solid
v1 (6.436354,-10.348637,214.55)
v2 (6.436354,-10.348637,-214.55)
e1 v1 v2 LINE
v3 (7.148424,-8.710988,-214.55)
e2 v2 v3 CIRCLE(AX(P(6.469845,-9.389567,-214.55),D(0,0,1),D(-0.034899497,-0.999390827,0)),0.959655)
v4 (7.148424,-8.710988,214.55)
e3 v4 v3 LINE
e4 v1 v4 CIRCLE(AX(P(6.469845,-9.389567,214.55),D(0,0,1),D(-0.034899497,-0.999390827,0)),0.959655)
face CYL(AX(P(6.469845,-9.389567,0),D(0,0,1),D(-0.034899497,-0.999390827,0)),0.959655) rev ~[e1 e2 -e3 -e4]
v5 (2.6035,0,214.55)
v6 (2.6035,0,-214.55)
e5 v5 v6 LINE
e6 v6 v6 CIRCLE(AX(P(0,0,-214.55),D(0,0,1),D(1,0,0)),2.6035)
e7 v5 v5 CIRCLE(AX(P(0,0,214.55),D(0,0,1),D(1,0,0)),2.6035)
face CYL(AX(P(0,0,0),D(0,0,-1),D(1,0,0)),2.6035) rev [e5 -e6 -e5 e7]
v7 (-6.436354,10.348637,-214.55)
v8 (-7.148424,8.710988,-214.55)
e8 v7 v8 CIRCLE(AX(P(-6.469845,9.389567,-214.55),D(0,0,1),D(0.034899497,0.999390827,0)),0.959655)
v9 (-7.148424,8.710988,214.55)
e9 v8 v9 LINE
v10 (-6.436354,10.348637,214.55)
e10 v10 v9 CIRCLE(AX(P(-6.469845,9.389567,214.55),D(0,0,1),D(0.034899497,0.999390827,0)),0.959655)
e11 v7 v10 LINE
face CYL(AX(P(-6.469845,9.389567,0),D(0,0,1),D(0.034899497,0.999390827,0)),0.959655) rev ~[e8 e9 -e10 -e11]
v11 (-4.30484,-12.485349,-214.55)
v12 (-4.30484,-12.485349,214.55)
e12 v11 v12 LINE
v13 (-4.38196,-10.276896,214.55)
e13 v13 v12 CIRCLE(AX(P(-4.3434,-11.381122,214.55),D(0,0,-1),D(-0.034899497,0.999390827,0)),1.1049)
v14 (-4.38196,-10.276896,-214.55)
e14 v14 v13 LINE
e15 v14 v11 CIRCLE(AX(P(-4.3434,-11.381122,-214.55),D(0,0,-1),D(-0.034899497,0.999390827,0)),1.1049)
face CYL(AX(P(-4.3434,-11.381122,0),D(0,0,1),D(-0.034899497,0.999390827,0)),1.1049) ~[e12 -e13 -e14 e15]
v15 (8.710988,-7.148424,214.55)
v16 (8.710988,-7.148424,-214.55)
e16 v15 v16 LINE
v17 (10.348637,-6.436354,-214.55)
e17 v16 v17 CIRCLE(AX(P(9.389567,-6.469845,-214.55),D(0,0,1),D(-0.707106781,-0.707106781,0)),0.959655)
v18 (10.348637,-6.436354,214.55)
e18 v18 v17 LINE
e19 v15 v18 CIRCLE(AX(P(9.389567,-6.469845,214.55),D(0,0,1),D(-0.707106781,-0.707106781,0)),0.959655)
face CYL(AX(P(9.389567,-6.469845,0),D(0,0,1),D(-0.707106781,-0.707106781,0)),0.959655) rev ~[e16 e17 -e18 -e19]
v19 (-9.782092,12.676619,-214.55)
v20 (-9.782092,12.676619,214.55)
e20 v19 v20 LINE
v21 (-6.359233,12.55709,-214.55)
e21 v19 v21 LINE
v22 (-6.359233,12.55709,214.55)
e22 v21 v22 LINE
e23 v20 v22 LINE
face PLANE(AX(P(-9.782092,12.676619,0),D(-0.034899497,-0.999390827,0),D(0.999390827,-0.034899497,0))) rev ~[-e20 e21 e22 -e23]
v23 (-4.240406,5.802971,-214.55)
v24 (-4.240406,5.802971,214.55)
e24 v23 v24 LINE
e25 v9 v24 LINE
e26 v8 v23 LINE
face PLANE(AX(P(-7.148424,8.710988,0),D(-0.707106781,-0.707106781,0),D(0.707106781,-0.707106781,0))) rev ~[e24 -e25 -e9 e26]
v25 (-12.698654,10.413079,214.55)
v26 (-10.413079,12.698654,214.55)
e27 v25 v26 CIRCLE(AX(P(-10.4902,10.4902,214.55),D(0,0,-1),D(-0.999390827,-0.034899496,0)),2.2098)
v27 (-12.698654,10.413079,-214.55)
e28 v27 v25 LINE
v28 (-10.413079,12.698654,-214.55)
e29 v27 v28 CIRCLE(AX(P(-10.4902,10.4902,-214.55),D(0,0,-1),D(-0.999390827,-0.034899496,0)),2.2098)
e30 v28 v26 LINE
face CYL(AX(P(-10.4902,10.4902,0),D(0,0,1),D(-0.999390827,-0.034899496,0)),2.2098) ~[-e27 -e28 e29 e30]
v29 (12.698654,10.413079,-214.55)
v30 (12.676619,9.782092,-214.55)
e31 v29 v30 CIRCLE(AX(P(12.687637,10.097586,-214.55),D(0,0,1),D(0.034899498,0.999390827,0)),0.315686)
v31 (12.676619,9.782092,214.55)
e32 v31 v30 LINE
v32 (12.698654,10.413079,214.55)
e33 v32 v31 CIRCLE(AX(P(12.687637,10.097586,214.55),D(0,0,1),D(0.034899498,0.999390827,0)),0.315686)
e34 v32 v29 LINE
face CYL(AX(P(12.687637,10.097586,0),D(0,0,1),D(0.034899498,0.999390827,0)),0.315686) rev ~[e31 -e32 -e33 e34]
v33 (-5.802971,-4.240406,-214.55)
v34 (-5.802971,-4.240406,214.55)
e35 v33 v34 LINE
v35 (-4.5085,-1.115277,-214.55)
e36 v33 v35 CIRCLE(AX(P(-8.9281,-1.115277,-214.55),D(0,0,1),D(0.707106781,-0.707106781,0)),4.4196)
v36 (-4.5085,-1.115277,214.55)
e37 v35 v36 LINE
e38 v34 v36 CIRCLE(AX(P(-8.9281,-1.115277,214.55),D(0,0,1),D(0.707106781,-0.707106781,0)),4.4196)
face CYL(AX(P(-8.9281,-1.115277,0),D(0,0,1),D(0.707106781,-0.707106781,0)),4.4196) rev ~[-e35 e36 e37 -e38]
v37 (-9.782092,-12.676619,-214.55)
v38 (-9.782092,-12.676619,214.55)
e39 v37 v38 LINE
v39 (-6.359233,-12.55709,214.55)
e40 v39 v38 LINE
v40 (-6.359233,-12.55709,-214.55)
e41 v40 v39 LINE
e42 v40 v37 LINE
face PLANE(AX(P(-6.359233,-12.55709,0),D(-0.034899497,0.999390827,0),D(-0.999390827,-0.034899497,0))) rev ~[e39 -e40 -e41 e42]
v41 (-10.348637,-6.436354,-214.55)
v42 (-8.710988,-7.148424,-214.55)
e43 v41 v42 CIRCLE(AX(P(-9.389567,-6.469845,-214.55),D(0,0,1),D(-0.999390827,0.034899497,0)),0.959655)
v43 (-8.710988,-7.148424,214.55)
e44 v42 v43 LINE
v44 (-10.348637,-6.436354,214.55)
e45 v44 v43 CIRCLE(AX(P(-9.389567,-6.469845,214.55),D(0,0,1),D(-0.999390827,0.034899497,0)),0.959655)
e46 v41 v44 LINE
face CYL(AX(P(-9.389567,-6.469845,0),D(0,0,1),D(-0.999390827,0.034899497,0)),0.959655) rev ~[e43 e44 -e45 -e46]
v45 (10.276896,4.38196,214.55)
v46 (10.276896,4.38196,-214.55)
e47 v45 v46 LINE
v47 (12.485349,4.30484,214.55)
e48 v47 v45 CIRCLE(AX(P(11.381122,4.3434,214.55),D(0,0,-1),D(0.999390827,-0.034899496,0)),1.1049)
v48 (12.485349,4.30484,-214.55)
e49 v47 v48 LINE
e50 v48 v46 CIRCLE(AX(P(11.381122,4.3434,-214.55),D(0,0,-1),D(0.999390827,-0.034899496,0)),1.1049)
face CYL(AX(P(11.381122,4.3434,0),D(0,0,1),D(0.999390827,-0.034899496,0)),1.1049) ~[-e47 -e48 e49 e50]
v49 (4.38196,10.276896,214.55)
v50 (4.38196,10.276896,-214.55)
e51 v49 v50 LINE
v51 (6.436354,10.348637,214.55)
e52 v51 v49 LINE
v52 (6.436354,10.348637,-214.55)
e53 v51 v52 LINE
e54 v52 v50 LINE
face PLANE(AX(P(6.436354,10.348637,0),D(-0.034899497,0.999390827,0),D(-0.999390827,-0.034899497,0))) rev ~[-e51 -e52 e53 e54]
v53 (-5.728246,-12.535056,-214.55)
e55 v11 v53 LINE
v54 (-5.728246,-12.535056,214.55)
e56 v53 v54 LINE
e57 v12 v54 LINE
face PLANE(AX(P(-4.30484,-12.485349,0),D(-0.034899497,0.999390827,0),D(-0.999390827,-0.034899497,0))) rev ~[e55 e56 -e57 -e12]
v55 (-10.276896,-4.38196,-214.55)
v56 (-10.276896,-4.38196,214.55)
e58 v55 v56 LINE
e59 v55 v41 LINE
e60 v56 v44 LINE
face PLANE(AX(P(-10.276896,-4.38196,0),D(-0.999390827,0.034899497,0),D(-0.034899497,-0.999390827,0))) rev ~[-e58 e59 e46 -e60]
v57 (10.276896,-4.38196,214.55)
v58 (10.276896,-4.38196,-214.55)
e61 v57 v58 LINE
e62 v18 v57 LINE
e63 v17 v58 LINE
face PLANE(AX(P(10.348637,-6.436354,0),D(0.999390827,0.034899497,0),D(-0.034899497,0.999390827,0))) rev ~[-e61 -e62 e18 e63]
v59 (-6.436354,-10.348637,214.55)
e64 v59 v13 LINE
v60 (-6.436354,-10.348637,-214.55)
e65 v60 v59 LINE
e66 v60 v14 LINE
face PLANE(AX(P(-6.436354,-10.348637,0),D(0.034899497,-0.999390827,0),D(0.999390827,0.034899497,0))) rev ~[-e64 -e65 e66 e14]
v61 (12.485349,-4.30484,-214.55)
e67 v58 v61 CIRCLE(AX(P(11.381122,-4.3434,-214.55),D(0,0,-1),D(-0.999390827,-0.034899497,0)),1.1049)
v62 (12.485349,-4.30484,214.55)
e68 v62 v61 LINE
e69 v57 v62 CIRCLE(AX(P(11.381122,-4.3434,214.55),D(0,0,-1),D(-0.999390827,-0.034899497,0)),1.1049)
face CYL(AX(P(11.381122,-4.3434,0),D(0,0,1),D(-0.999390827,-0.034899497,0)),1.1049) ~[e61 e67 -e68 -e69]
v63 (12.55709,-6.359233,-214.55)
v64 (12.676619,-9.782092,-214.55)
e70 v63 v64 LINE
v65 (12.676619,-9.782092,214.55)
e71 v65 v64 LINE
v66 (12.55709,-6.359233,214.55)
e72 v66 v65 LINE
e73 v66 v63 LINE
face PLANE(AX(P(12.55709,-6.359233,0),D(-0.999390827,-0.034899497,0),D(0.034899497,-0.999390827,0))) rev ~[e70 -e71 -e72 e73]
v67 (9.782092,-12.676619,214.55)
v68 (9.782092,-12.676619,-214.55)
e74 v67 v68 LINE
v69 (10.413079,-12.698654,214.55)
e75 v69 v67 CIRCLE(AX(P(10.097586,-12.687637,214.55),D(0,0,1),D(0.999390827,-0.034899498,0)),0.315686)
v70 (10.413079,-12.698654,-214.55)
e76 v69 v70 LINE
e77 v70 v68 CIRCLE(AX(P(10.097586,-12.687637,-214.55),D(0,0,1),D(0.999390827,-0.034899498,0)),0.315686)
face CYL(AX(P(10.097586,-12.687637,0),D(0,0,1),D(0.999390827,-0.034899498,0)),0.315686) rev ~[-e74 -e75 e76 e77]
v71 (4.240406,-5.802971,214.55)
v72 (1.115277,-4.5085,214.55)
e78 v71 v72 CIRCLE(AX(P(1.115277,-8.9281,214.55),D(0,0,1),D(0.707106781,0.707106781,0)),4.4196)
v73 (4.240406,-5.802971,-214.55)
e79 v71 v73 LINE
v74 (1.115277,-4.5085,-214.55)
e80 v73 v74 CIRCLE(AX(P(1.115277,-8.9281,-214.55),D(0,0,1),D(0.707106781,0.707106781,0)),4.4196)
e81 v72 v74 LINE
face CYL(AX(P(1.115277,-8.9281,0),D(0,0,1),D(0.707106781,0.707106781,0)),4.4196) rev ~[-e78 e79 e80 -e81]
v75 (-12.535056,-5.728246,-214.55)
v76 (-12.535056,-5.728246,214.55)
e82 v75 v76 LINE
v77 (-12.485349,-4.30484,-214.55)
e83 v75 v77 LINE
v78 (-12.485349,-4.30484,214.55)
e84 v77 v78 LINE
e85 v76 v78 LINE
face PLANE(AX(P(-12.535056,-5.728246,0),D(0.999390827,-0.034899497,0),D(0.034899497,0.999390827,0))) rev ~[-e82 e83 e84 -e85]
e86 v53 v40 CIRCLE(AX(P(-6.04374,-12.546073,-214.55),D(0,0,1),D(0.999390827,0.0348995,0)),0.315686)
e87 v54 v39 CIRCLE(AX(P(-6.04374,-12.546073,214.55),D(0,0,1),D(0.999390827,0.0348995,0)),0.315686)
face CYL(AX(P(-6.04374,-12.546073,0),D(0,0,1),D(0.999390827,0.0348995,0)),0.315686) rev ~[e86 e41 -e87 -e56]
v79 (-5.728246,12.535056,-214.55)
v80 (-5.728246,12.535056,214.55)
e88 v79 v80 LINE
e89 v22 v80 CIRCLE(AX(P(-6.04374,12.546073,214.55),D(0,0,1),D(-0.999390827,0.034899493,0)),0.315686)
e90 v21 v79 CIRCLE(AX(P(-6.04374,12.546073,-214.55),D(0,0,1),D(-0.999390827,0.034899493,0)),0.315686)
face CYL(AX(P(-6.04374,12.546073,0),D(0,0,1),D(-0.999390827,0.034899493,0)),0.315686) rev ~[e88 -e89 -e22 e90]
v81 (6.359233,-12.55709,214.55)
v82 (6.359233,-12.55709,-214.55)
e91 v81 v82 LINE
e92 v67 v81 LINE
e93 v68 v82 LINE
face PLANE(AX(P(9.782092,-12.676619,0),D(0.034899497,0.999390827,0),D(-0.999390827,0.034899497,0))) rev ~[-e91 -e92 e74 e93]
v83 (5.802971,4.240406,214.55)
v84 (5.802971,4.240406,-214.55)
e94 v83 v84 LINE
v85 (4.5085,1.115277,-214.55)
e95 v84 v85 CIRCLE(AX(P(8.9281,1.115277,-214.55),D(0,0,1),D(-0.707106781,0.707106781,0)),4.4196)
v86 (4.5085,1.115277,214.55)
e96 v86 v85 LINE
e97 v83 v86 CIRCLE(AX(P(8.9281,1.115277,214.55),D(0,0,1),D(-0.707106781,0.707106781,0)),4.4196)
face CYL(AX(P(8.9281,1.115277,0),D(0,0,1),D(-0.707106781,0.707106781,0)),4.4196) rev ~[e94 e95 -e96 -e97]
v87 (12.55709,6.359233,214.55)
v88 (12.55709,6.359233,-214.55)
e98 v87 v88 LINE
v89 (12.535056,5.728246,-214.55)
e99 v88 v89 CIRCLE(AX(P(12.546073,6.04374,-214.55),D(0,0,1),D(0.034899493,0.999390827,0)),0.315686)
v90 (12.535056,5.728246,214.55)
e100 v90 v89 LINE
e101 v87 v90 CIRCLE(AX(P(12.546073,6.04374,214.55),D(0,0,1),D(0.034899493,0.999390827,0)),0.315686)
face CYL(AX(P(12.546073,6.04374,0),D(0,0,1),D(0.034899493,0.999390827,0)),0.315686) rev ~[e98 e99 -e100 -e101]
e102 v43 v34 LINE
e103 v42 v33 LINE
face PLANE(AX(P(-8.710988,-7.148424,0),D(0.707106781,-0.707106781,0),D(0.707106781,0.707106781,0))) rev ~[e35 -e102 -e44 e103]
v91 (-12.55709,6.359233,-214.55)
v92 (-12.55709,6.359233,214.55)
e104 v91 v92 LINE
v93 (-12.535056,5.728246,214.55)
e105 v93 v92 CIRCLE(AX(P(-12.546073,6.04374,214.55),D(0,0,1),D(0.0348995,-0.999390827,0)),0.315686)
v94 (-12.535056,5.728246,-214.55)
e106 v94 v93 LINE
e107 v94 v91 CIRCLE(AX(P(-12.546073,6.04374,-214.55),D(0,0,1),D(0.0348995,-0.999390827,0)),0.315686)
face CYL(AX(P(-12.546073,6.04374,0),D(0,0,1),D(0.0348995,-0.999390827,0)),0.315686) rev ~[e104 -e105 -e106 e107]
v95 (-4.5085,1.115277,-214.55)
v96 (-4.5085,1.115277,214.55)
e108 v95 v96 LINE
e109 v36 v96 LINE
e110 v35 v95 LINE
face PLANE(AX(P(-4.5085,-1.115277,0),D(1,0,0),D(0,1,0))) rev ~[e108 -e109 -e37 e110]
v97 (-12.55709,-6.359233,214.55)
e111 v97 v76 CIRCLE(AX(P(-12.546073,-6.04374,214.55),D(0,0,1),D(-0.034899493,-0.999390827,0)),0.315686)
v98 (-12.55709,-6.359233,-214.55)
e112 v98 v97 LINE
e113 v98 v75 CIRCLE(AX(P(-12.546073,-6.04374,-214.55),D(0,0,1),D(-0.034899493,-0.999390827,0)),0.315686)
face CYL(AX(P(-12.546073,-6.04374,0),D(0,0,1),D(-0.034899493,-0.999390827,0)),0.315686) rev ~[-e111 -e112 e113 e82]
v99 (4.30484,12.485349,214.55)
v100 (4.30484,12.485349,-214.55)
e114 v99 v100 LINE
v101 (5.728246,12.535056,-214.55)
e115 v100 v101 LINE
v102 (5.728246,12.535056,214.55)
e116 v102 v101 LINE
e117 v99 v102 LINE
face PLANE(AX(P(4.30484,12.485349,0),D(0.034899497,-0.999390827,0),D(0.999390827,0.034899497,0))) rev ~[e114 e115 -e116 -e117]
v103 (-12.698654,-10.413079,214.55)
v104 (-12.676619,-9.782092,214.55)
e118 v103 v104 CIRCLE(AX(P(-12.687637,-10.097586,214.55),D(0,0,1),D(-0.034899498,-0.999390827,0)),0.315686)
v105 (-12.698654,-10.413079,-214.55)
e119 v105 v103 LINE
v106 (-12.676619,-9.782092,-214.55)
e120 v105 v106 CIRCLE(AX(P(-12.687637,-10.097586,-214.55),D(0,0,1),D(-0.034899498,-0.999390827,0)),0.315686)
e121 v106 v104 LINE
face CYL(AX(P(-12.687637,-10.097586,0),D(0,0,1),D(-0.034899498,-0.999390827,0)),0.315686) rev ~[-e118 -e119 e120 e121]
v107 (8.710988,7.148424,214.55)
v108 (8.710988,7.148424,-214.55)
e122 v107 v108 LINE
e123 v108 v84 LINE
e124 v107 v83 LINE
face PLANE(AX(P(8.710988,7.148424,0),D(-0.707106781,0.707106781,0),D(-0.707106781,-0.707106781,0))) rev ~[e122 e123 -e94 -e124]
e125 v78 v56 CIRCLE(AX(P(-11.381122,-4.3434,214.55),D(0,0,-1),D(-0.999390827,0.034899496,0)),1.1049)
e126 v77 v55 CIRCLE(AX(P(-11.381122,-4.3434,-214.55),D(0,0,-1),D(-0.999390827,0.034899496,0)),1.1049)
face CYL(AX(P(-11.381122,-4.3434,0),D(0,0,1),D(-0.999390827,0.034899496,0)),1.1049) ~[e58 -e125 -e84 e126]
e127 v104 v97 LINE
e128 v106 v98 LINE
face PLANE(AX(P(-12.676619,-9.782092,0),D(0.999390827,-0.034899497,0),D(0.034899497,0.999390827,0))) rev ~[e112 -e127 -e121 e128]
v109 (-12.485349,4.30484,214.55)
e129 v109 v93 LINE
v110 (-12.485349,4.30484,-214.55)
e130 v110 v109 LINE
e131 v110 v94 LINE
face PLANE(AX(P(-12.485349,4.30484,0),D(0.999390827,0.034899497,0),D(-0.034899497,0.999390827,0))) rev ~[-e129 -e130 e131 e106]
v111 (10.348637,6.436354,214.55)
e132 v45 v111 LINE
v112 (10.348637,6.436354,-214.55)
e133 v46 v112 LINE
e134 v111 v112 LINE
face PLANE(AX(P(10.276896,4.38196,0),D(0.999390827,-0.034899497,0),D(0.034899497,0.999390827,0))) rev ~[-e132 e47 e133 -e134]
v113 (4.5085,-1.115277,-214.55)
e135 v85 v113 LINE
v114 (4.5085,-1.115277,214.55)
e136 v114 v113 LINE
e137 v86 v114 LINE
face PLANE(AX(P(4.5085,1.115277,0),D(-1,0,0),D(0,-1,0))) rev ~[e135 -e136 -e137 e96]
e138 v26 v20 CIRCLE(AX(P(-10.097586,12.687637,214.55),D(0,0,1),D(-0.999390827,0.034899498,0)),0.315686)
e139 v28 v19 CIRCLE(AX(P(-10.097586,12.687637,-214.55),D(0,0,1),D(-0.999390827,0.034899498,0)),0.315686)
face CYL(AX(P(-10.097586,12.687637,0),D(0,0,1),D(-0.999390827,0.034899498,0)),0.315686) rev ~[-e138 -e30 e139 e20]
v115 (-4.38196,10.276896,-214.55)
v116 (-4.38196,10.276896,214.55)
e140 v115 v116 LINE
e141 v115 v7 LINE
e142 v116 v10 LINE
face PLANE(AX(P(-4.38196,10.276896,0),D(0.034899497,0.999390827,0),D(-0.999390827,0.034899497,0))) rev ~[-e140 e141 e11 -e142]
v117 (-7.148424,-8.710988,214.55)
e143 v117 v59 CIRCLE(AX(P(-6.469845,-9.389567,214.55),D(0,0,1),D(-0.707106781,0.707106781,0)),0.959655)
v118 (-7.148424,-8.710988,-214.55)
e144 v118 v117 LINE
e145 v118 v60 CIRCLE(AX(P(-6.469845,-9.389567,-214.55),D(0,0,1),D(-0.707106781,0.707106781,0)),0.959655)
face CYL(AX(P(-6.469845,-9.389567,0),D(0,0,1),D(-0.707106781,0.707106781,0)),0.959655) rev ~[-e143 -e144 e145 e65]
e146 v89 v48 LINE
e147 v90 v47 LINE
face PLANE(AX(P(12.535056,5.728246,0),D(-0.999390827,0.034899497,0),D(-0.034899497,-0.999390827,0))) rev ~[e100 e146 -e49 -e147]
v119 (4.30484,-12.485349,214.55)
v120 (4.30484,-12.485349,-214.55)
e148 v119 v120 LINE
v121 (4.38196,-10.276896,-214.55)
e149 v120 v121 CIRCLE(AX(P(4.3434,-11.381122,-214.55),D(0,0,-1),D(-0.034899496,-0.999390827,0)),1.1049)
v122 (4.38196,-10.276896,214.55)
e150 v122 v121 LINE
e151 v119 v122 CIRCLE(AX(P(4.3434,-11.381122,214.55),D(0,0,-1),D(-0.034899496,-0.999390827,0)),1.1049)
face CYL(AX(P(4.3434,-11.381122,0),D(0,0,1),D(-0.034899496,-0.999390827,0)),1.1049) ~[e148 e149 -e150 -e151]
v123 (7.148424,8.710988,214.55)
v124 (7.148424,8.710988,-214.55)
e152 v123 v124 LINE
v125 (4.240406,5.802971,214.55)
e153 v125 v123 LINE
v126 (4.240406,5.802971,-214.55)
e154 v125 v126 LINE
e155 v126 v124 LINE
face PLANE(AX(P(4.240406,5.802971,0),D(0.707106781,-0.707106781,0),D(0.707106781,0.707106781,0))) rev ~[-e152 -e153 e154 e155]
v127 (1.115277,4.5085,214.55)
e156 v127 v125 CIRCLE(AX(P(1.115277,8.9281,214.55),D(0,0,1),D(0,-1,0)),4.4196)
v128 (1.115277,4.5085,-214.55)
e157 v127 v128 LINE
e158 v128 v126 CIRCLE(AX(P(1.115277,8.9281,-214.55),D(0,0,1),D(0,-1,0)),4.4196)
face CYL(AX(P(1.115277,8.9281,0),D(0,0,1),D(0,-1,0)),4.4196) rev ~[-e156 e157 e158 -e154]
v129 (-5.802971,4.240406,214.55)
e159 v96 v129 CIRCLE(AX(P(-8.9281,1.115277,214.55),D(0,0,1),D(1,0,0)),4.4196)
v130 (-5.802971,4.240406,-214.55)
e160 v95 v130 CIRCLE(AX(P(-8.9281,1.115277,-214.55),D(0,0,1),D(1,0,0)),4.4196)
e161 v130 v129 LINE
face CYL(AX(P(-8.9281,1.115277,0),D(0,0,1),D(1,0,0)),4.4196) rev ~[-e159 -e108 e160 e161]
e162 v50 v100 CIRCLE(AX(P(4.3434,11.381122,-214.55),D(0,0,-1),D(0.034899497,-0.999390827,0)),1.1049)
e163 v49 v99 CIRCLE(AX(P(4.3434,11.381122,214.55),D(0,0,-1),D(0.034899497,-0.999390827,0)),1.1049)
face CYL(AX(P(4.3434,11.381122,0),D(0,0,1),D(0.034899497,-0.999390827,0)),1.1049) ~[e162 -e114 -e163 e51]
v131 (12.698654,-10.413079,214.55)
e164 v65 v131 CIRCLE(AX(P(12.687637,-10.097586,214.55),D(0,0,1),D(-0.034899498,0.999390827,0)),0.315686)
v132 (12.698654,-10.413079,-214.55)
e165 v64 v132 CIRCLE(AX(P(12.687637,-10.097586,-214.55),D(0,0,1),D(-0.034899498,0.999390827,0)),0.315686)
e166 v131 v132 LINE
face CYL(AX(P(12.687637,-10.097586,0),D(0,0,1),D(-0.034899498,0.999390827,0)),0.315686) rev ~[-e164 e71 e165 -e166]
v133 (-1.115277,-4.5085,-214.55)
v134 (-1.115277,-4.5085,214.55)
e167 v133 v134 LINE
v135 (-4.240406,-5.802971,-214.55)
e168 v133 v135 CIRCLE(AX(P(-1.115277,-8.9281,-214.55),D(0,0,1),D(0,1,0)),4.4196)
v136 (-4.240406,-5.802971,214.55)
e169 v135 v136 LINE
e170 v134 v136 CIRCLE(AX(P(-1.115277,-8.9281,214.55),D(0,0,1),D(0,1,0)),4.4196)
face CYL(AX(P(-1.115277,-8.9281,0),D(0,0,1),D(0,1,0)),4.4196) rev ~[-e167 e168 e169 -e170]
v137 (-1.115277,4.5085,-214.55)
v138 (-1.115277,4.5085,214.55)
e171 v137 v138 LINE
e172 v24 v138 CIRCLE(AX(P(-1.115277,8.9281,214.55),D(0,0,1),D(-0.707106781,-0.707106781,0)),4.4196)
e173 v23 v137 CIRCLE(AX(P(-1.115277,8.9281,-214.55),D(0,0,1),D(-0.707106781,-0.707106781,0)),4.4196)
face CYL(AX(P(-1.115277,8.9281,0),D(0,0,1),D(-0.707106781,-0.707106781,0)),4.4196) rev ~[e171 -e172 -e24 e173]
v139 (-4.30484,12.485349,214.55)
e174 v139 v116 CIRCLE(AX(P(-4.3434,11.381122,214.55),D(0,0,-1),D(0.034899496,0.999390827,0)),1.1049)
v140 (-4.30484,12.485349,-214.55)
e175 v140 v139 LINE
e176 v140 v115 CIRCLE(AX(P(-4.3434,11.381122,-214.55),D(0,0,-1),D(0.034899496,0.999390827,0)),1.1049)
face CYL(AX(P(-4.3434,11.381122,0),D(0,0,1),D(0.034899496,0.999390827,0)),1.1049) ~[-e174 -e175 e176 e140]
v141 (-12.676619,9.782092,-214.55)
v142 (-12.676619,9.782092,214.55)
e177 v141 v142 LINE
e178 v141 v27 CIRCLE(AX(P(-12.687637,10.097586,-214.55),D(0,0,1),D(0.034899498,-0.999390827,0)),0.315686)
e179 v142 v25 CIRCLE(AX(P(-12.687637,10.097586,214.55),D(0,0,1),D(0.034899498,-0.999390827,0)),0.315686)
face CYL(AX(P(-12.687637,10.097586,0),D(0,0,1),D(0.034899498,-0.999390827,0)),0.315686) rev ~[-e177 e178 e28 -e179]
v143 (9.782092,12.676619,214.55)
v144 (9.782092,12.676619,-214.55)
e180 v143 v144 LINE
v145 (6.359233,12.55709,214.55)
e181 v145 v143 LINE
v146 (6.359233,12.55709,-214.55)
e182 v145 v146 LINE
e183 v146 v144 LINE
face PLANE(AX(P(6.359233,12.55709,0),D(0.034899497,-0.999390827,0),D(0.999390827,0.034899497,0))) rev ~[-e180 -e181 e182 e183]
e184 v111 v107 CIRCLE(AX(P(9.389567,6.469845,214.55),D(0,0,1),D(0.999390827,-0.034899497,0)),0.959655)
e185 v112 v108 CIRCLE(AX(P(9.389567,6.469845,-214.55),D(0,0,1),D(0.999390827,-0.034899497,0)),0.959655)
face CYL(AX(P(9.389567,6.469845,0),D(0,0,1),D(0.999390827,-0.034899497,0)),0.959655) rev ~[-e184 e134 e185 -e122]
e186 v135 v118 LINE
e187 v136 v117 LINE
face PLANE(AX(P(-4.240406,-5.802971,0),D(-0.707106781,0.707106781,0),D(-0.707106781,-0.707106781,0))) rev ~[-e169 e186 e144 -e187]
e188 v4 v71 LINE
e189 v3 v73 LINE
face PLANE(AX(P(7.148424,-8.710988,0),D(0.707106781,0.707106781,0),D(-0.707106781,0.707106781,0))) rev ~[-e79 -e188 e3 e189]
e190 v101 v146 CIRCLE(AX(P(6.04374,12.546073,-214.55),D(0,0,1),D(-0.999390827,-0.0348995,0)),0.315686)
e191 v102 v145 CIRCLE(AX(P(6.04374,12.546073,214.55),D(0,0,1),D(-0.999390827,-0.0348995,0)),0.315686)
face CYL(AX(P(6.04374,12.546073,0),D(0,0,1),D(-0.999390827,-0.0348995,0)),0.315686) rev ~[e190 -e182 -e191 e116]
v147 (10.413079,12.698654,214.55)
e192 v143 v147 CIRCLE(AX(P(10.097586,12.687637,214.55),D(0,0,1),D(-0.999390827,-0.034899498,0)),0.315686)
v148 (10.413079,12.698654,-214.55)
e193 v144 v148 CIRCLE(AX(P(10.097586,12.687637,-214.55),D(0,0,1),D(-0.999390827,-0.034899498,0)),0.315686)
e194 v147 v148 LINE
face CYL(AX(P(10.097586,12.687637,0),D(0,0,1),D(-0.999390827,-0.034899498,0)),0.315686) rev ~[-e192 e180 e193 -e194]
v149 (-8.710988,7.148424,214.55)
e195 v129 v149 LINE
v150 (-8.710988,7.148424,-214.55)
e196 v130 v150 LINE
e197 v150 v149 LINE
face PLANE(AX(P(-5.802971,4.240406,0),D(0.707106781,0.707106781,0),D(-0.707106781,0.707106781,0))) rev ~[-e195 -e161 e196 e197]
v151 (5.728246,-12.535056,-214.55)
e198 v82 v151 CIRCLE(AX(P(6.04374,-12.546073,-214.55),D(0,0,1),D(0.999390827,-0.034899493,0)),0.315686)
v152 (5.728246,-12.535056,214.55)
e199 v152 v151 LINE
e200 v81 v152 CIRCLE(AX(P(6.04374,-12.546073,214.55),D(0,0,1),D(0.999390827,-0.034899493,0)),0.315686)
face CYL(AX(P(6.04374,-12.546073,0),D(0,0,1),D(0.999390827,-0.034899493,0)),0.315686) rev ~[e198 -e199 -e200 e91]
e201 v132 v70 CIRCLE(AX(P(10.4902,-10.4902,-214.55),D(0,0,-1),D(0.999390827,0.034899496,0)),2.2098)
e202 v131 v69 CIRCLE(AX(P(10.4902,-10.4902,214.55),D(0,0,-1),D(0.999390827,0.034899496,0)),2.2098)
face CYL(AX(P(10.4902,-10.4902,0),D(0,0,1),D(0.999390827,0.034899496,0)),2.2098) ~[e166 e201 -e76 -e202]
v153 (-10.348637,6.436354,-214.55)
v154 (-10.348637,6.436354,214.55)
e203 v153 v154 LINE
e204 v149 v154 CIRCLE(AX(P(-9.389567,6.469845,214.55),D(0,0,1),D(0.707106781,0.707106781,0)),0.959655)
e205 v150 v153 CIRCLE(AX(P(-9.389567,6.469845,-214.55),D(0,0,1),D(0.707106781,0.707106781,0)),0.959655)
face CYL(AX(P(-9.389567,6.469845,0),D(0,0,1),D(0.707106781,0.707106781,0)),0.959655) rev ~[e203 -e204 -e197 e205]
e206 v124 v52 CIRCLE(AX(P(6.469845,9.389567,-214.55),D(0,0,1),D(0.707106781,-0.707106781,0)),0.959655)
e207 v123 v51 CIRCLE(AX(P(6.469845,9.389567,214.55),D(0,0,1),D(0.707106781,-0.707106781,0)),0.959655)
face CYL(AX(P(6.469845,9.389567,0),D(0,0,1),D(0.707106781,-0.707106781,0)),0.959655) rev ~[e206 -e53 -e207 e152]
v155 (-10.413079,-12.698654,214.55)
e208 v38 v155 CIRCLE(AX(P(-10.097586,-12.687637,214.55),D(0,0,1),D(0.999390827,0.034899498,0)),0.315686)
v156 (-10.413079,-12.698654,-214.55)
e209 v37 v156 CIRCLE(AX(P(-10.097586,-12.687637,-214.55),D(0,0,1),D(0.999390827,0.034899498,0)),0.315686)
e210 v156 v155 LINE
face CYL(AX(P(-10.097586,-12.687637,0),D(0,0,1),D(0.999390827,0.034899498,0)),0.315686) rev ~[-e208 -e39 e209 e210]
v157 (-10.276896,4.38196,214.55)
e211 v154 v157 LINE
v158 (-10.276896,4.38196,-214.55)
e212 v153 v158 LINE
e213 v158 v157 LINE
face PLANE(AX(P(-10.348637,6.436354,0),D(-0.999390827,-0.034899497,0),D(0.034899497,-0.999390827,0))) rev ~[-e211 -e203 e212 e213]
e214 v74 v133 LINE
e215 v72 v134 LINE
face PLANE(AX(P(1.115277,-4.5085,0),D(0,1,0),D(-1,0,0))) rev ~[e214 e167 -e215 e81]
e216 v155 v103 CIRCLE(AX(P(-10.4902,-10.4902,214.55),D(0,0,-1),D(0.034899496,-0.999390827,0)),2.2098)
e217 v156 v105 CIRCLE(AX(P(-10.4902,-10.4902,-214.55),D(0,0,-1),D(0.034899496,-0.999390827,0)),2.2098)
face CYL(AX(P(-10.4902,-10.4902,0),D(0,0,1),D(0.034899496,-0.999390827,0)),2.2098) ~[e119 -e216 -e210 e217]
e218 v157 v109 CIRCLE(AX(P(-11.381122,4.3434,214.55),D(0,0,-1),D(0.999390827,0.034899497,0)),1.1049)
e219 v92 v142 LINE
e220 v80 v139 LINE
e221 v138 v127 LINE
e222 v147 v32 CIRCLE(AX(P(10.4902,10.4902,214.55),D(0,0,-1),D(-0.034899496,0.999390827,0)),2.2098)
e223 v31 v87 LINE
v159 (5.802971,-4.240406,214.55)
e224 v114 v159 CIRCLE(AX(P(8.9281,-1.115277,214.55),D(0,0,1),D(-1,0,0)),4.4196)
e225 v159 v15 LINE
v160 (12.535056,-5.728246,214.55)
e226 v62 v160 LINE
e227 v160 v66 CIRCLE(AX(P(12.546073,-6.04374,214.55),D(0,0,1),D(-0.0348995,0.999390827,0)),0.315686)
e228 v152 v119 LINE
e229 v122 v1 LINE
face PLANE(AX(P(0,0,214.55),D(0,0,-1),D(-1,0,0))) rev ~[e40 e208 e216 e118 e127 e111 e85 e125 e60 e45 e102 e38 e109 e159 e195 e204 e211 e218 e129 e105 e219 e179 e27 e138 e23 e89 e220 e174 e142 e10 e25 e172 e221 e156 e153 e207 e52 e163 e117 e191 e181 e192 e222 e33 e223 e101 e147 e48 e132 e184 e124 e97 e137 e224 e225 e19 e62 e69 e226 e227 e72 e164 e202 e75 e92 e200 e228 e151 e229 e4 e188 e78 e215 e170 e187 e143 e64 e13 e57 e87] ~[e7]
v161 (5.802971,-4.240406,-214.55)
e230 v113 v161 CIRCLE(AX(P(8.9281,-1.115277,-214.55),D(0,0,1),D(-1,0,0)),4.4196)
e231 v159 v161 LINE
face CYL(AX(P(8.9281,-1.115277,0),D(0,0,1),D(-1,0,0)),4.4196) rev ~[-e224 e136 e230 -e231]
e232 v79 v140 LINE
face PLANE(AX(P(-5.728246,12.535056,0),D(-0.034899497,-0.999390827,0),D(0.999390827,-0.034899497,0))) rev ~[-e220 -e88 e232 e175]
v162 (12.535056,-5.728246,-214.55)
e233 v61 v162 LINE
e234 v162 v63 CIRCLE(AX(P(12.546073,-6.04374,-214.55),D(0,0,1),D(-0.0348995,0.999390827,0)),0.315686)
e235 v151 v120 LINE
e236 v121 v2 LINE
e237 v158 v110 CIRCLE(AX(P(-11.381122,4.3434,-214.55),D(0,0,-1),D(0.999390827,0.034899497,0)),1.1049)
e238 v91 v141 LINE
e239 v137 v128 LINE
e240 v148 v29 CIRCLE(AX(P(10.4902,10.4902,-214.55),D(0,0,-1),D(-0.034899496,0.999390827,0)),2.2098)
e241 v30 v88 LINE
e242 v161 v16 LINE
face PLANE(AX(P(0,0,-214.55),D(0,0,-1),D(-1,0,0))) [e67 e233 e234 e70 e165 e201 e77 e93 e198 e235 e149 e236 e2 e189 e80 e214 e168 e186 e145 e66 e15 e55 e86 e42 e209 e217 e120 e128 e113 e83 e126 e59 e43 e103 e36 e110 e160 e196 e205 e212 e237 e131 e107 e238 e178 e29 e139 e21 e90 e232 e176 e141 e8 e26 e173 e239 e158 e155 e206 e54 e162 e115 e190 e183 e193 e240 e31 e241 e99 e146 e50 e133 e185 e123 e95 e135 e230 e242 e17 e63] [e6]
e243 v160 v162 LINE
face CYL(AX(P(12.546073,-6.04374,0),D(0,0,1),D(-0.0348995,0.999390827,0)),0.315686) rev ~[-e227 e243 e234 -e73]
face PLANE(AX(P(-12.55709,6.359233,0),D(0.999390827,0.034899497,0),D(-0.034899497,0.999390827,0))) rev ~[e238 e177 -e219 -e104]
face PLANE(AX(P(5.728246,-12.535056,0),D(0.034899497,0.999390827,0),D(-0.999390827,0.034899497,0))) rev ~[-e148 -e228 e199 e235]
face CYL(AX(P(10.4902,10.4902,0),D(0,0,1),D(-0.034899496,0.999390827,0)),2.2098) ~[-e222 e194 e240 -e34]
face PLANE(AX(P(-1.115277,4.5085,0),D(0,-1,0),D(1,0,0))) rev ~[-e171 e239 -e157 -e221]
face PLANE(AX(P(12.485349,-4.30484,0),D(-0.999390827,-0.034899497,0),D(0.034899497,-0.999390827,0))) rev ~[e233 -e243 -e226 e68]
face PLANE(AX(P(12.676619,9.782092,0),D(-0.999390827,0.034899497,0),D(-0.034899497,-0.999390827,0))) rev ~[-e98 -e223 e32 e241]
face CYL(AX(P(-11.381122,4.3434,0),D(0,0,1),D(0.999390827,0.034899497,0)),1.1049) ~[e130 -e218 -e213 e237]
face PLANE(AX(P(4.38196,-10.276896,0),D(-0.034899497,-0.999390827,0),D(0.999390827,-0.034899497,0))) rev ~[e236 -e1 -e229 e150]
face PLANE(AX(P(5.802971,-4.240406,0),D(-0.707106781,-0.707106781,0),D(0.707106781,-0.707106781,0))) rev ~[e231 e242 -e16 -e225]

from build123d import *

# Parameters (mm, degrees)
SKETCH3_R      = 2.6035
EXTRUDE1_DEPTH = 214.55


with BuildPart() as part:
    # Sketch3 → Extrude1 (new body, symmetric)
    with BuildSketch(Plane.XY):
        with BuildLine():
            Line((-1.115277175, 4.5085), (1.115277175, 4.5085))
            ThreePointArc((1.115277175, 4.5085), (2.806584872, 4.844922018), (4.240406305, 5.80297087))
            Line((4.240406305, 5.80297087), (7.148423664, 8.710988229))
            ThreePointArc((7.148423664, 8.710988229), (7.349906316, 9.772227925), (6.436353897, 10.348636575))
            Line((6.436353897, 10.348636575), (4.381960454, 10.276895575))
            ThreePointArc((4.381960454, 10.276895575), (3.239173075, 11.342562046), (4.304839546, 12.485349424))
            Line((4.304839546, 12.485349424), (5.728246175, 12.535055879))
            ThreePointArc((5.728246175, 12.535055879), (6.054756855, 12.230579745), (6.35923299, 12.557090424))
            Line((6.35923299, 12.557090424), (9.782092278, 12.676619304))
            ThreePointArc((9.782092278, 12.676619304), (10.108602958, 12.37214317), (10.413079092, 12.69865385))
            ThreePointArc((10.413079092, 12.69865385), (12.052764565, 12.052764565), (12.69865385, 10.413079092))
            ThreePointArc((12.69865385, 10.413079092), (12.37214317, 10.108602958), (12.676619304, 9.782092278))
            Line((12.676619304, 9.782092278), (12.557090424, 6.35923299))
            ThreePointArc((12.557090424, 6.35923299), (12.230579745, 6.054756855), (12.535055879, 5.728246175))
            Line((12.535055879, 5.728246175), (12.485349424, 4.304839546))
            ThreePointArc((12.485349424, 4.304839546), (11.342562046, 3.239173075), (10.276895575, 4.381960454))
            Line((10.276895575, 4.381960454), (10.348636575, 6.436353897))
            ThreePointArc((10.348636575, 6.436353897), (9.772227925, 7.349906316), (8.710988229, 7.148423664))
            Line((8.710988229, 7.148423664), (5.80297087, 4.240406305))
            ThreePointArc((5.80297087, 4.240406305), (4.844922018, 2.806584872), (4.5085, 1.115277175))
            Line((4.5085, 1.115277175), (4.5085, -1.115277175))
            ThreePointArc((4.5085, -1.115277175), (4.844922018, -2.806584872), (5.80297087, -4.240406305))
            Line((5.80297087, -4.240406305), (8.710988229, -7.148423664))
            ThreePointArc((8.710988229, -7.148423664), (9.772227925, -7.349906316), (10.348636575, -6.436353897))
            Line((10.348636575, -6.436353897), (10.276895575, -4.381960454))
            ThreePointArc((10.276895575, -4.381960454), (11.342562046, -3.239173075), (12.485349424, -4.304839546))
            Line((12.485349424, -4.304839546), (12.535055879, -5.728246175))
            ThreePointArc((12.535055879, -5.728246175), (12.230579745, -6.054756855), (12.557090424, -6.35923299))
            Line((12.557090424, -6.35923299), (12.676619304, -9.782092278))
            ThreePointArc((12.676619304, -9.782092278), (12.37214317, -10.108602958), (12.69865385, -10.413079092))
            ThreePointArc((12.69865385, -10.413079092), (12.052764565, -12.052764565), (10.413079092, -12.69865385))
            ThreePointArc((10.413079092, -12.69865385), (10.108602958, -12.37214317), (9.782092278, -12.676619304))
            Line((9.782092278, -12.676619304), (6.35923299, -12.557090424))
            ThreePointArc((6.35923299, -12.557090424), (6.054756855, -12.230579745), (5.728246175, -12.535055879))
            Line((5.728246175, -12.535055879), (4.304839546, -12.485349424))
            ThreePointArc((4.304839546, -12.485349424), (3.239173075, -11.342562046), (4.381960454, -10.276895575))
            Line((4.381960454, -10.276895575), (6.436353897, -10.348636575))
            ThreePointArc((6.436353897, -10.348636575), (7.349906316, -9.772227925), (7.148423664, -8.710988229))
            Line((7.148423664, -8.710988229), (4.240406305, -5.80297087))
            ThreePointArc((4.240406305, -5.80297087), (2.806584872, -4.844922018), (1.115277175, -4.5085))
            Line((1.115277175, -4.5085), (-1.115277175, -4.5085))
            ThreePointArc((-1.115277175, -4.5085), (-2.806584872, -4.844922018), (-4.240406305, -5.80297087))
            Line((-4.240406305, -5.80297087), (-7.148423664, -8.710988229))
            ThreePointArc((-7.148423664, -8.710988229), (-7.349906316, -9.772227925), (-6.436353897, -10.348636575))
            Line((-6.436353897, -10.348636575), (-4.381960454, -10.276895575))
            ThreePointArc((-4.381960454, -10.276895575), (-3.239173075, -11.342562046), (-4.304839546, -12.485349424))
            Line((-4.304839546, -12.485349424), (-5.728246175, -12.535055879))
            ThreePointArc((-5.728246175, -12.535055879), (-6.054756855, -12.230579745), (-6.35923299, -12.557090424))
            Line((-6.35923299, -12.557090424), (-9.782092278, -12.676619304))
            ThreePointArc((-9.782092278, -12.676619304), (-10.108602958, -12.37214317), (-10.413079092, -12.69865385))
            ThreePointArc((-10.413079092, -12.69865385), (-12.052764565, -12.052764565), (-12.69865385, -10.413079092))
            ThreePointArc((-12.69865385, -10.413079092), (-12.37214317, -10.108602958), (-12.676619304, -9.782092278))
            Line((-12.676619304, -9.782092278), (-12.557090424, -6.35923299))
            ThreePointArc((-12.557090424, -6.35923299), (-12.230579745, -6.054756855), (-12.535055879, -5.728246175))
            Line((-12.535055879, -5.728246175), (-12.485349424, -4.304839546))
            ThreePointArc((-12.485349424, -4.304839546), (-11.342562046, -3.239173075), (-10.276895575, -4.381960454))
            Line((-10.276895575, -4.381960454), (-10.348636575, -6.436353897))
            ThreePointArc((-10.348636575, -6.436353897), (-9.772227925, -7.349906316), (-8.710988229, -7.148423664))
            Line((-8.710988229, -7.148423664), (-5.80297087, -4.240406305))
            ThreePointArc((-5.80297087, -4.240406305), (-4.844922018, -2.806584872), (-4.5085, -1.115277175))
            Line((-4.5085, -1.115277175), (-4.5085, 1.115277175))
            ThreePointArc((-4.5085, 1.115277175), (-4.844922018, 2.806584872), (-5.80297087, 4.240406305))
            Line((-5.80297087, 4.240406305), (-8.710988229, 7.148423664))
            ThreePointArc((-8.710988229, 7.148423664), (-9.772227925, 7.349906316), (-10.348636575, 6.436353897))
            Line((-10.348636575, 6.436353897), (-10.276895575, 4.381960454))
            ThreePointArc((-10.276895575, 4.381960454), (-11.342562046, 3.239173075), (-12.485349424, 4.304839546))
            Line((-12.485349424, 4.304839546), (-12.535055879, 5.728246175))
            ThreePointArc((-12.535055879, 5.728246175), (-12.230579745, 6.054756855), (-12.557090424, 6.35923299))
            Line((-12.557090424, 6.35923299), (-12.676619304, 9.782092278))
            ThreePointArc((-12.676619304, 9.782092278), (-12.37214317, 10.108602958), (-12.69865385, 10.413079092))
            ThreePointArc((-12.69865385, 10.413079092), (-12.052764565, 12.052764565), (-10.413079092, 12.69865385))
            ThreePointArc((-10.413079092, 12.69865385), (-10.108602958, 12.37214317), (-9.782092278, 12.676619304))
            Line((-9.782092278, 12.676619304), (-6.35923299, 12.557090424))
            ThreePointArc((-6.35923299, 12.557090424), (-6.054756855, 12.230579745), (-5.728246175, 12.535055879))
            Line((-5.728246175, 12.535055879), (-4.304839546, 12.485349424))
            ThreePointArc((-4.304839546, 12.485349424), (-3.239173075, 11.342562046), (-4.381960454, 10.276895575))
            Line((-4.381960454, 10.276895575), (-6.436353897, 10.348636575))
            ThreePointArc((-6.436353897, 10.348636575), (-7.349906316, 9.772227925), (-7.148423664, 8.710988229))
            Line((-7.148423664, 8.710988229), (-4.240406305, 5.80297087))
            ThreePointArc((-4.240406305, 5.80297087), (-2.806584872, 4.844922018), (-1.115277175, 4.5085))
        make_face()
        Circle(SKETCH3_R, mode=Mode.SUBTRACT)
    extrude(amount=EXTRUDE1_DEPTH, both=True)


solid = part.part
